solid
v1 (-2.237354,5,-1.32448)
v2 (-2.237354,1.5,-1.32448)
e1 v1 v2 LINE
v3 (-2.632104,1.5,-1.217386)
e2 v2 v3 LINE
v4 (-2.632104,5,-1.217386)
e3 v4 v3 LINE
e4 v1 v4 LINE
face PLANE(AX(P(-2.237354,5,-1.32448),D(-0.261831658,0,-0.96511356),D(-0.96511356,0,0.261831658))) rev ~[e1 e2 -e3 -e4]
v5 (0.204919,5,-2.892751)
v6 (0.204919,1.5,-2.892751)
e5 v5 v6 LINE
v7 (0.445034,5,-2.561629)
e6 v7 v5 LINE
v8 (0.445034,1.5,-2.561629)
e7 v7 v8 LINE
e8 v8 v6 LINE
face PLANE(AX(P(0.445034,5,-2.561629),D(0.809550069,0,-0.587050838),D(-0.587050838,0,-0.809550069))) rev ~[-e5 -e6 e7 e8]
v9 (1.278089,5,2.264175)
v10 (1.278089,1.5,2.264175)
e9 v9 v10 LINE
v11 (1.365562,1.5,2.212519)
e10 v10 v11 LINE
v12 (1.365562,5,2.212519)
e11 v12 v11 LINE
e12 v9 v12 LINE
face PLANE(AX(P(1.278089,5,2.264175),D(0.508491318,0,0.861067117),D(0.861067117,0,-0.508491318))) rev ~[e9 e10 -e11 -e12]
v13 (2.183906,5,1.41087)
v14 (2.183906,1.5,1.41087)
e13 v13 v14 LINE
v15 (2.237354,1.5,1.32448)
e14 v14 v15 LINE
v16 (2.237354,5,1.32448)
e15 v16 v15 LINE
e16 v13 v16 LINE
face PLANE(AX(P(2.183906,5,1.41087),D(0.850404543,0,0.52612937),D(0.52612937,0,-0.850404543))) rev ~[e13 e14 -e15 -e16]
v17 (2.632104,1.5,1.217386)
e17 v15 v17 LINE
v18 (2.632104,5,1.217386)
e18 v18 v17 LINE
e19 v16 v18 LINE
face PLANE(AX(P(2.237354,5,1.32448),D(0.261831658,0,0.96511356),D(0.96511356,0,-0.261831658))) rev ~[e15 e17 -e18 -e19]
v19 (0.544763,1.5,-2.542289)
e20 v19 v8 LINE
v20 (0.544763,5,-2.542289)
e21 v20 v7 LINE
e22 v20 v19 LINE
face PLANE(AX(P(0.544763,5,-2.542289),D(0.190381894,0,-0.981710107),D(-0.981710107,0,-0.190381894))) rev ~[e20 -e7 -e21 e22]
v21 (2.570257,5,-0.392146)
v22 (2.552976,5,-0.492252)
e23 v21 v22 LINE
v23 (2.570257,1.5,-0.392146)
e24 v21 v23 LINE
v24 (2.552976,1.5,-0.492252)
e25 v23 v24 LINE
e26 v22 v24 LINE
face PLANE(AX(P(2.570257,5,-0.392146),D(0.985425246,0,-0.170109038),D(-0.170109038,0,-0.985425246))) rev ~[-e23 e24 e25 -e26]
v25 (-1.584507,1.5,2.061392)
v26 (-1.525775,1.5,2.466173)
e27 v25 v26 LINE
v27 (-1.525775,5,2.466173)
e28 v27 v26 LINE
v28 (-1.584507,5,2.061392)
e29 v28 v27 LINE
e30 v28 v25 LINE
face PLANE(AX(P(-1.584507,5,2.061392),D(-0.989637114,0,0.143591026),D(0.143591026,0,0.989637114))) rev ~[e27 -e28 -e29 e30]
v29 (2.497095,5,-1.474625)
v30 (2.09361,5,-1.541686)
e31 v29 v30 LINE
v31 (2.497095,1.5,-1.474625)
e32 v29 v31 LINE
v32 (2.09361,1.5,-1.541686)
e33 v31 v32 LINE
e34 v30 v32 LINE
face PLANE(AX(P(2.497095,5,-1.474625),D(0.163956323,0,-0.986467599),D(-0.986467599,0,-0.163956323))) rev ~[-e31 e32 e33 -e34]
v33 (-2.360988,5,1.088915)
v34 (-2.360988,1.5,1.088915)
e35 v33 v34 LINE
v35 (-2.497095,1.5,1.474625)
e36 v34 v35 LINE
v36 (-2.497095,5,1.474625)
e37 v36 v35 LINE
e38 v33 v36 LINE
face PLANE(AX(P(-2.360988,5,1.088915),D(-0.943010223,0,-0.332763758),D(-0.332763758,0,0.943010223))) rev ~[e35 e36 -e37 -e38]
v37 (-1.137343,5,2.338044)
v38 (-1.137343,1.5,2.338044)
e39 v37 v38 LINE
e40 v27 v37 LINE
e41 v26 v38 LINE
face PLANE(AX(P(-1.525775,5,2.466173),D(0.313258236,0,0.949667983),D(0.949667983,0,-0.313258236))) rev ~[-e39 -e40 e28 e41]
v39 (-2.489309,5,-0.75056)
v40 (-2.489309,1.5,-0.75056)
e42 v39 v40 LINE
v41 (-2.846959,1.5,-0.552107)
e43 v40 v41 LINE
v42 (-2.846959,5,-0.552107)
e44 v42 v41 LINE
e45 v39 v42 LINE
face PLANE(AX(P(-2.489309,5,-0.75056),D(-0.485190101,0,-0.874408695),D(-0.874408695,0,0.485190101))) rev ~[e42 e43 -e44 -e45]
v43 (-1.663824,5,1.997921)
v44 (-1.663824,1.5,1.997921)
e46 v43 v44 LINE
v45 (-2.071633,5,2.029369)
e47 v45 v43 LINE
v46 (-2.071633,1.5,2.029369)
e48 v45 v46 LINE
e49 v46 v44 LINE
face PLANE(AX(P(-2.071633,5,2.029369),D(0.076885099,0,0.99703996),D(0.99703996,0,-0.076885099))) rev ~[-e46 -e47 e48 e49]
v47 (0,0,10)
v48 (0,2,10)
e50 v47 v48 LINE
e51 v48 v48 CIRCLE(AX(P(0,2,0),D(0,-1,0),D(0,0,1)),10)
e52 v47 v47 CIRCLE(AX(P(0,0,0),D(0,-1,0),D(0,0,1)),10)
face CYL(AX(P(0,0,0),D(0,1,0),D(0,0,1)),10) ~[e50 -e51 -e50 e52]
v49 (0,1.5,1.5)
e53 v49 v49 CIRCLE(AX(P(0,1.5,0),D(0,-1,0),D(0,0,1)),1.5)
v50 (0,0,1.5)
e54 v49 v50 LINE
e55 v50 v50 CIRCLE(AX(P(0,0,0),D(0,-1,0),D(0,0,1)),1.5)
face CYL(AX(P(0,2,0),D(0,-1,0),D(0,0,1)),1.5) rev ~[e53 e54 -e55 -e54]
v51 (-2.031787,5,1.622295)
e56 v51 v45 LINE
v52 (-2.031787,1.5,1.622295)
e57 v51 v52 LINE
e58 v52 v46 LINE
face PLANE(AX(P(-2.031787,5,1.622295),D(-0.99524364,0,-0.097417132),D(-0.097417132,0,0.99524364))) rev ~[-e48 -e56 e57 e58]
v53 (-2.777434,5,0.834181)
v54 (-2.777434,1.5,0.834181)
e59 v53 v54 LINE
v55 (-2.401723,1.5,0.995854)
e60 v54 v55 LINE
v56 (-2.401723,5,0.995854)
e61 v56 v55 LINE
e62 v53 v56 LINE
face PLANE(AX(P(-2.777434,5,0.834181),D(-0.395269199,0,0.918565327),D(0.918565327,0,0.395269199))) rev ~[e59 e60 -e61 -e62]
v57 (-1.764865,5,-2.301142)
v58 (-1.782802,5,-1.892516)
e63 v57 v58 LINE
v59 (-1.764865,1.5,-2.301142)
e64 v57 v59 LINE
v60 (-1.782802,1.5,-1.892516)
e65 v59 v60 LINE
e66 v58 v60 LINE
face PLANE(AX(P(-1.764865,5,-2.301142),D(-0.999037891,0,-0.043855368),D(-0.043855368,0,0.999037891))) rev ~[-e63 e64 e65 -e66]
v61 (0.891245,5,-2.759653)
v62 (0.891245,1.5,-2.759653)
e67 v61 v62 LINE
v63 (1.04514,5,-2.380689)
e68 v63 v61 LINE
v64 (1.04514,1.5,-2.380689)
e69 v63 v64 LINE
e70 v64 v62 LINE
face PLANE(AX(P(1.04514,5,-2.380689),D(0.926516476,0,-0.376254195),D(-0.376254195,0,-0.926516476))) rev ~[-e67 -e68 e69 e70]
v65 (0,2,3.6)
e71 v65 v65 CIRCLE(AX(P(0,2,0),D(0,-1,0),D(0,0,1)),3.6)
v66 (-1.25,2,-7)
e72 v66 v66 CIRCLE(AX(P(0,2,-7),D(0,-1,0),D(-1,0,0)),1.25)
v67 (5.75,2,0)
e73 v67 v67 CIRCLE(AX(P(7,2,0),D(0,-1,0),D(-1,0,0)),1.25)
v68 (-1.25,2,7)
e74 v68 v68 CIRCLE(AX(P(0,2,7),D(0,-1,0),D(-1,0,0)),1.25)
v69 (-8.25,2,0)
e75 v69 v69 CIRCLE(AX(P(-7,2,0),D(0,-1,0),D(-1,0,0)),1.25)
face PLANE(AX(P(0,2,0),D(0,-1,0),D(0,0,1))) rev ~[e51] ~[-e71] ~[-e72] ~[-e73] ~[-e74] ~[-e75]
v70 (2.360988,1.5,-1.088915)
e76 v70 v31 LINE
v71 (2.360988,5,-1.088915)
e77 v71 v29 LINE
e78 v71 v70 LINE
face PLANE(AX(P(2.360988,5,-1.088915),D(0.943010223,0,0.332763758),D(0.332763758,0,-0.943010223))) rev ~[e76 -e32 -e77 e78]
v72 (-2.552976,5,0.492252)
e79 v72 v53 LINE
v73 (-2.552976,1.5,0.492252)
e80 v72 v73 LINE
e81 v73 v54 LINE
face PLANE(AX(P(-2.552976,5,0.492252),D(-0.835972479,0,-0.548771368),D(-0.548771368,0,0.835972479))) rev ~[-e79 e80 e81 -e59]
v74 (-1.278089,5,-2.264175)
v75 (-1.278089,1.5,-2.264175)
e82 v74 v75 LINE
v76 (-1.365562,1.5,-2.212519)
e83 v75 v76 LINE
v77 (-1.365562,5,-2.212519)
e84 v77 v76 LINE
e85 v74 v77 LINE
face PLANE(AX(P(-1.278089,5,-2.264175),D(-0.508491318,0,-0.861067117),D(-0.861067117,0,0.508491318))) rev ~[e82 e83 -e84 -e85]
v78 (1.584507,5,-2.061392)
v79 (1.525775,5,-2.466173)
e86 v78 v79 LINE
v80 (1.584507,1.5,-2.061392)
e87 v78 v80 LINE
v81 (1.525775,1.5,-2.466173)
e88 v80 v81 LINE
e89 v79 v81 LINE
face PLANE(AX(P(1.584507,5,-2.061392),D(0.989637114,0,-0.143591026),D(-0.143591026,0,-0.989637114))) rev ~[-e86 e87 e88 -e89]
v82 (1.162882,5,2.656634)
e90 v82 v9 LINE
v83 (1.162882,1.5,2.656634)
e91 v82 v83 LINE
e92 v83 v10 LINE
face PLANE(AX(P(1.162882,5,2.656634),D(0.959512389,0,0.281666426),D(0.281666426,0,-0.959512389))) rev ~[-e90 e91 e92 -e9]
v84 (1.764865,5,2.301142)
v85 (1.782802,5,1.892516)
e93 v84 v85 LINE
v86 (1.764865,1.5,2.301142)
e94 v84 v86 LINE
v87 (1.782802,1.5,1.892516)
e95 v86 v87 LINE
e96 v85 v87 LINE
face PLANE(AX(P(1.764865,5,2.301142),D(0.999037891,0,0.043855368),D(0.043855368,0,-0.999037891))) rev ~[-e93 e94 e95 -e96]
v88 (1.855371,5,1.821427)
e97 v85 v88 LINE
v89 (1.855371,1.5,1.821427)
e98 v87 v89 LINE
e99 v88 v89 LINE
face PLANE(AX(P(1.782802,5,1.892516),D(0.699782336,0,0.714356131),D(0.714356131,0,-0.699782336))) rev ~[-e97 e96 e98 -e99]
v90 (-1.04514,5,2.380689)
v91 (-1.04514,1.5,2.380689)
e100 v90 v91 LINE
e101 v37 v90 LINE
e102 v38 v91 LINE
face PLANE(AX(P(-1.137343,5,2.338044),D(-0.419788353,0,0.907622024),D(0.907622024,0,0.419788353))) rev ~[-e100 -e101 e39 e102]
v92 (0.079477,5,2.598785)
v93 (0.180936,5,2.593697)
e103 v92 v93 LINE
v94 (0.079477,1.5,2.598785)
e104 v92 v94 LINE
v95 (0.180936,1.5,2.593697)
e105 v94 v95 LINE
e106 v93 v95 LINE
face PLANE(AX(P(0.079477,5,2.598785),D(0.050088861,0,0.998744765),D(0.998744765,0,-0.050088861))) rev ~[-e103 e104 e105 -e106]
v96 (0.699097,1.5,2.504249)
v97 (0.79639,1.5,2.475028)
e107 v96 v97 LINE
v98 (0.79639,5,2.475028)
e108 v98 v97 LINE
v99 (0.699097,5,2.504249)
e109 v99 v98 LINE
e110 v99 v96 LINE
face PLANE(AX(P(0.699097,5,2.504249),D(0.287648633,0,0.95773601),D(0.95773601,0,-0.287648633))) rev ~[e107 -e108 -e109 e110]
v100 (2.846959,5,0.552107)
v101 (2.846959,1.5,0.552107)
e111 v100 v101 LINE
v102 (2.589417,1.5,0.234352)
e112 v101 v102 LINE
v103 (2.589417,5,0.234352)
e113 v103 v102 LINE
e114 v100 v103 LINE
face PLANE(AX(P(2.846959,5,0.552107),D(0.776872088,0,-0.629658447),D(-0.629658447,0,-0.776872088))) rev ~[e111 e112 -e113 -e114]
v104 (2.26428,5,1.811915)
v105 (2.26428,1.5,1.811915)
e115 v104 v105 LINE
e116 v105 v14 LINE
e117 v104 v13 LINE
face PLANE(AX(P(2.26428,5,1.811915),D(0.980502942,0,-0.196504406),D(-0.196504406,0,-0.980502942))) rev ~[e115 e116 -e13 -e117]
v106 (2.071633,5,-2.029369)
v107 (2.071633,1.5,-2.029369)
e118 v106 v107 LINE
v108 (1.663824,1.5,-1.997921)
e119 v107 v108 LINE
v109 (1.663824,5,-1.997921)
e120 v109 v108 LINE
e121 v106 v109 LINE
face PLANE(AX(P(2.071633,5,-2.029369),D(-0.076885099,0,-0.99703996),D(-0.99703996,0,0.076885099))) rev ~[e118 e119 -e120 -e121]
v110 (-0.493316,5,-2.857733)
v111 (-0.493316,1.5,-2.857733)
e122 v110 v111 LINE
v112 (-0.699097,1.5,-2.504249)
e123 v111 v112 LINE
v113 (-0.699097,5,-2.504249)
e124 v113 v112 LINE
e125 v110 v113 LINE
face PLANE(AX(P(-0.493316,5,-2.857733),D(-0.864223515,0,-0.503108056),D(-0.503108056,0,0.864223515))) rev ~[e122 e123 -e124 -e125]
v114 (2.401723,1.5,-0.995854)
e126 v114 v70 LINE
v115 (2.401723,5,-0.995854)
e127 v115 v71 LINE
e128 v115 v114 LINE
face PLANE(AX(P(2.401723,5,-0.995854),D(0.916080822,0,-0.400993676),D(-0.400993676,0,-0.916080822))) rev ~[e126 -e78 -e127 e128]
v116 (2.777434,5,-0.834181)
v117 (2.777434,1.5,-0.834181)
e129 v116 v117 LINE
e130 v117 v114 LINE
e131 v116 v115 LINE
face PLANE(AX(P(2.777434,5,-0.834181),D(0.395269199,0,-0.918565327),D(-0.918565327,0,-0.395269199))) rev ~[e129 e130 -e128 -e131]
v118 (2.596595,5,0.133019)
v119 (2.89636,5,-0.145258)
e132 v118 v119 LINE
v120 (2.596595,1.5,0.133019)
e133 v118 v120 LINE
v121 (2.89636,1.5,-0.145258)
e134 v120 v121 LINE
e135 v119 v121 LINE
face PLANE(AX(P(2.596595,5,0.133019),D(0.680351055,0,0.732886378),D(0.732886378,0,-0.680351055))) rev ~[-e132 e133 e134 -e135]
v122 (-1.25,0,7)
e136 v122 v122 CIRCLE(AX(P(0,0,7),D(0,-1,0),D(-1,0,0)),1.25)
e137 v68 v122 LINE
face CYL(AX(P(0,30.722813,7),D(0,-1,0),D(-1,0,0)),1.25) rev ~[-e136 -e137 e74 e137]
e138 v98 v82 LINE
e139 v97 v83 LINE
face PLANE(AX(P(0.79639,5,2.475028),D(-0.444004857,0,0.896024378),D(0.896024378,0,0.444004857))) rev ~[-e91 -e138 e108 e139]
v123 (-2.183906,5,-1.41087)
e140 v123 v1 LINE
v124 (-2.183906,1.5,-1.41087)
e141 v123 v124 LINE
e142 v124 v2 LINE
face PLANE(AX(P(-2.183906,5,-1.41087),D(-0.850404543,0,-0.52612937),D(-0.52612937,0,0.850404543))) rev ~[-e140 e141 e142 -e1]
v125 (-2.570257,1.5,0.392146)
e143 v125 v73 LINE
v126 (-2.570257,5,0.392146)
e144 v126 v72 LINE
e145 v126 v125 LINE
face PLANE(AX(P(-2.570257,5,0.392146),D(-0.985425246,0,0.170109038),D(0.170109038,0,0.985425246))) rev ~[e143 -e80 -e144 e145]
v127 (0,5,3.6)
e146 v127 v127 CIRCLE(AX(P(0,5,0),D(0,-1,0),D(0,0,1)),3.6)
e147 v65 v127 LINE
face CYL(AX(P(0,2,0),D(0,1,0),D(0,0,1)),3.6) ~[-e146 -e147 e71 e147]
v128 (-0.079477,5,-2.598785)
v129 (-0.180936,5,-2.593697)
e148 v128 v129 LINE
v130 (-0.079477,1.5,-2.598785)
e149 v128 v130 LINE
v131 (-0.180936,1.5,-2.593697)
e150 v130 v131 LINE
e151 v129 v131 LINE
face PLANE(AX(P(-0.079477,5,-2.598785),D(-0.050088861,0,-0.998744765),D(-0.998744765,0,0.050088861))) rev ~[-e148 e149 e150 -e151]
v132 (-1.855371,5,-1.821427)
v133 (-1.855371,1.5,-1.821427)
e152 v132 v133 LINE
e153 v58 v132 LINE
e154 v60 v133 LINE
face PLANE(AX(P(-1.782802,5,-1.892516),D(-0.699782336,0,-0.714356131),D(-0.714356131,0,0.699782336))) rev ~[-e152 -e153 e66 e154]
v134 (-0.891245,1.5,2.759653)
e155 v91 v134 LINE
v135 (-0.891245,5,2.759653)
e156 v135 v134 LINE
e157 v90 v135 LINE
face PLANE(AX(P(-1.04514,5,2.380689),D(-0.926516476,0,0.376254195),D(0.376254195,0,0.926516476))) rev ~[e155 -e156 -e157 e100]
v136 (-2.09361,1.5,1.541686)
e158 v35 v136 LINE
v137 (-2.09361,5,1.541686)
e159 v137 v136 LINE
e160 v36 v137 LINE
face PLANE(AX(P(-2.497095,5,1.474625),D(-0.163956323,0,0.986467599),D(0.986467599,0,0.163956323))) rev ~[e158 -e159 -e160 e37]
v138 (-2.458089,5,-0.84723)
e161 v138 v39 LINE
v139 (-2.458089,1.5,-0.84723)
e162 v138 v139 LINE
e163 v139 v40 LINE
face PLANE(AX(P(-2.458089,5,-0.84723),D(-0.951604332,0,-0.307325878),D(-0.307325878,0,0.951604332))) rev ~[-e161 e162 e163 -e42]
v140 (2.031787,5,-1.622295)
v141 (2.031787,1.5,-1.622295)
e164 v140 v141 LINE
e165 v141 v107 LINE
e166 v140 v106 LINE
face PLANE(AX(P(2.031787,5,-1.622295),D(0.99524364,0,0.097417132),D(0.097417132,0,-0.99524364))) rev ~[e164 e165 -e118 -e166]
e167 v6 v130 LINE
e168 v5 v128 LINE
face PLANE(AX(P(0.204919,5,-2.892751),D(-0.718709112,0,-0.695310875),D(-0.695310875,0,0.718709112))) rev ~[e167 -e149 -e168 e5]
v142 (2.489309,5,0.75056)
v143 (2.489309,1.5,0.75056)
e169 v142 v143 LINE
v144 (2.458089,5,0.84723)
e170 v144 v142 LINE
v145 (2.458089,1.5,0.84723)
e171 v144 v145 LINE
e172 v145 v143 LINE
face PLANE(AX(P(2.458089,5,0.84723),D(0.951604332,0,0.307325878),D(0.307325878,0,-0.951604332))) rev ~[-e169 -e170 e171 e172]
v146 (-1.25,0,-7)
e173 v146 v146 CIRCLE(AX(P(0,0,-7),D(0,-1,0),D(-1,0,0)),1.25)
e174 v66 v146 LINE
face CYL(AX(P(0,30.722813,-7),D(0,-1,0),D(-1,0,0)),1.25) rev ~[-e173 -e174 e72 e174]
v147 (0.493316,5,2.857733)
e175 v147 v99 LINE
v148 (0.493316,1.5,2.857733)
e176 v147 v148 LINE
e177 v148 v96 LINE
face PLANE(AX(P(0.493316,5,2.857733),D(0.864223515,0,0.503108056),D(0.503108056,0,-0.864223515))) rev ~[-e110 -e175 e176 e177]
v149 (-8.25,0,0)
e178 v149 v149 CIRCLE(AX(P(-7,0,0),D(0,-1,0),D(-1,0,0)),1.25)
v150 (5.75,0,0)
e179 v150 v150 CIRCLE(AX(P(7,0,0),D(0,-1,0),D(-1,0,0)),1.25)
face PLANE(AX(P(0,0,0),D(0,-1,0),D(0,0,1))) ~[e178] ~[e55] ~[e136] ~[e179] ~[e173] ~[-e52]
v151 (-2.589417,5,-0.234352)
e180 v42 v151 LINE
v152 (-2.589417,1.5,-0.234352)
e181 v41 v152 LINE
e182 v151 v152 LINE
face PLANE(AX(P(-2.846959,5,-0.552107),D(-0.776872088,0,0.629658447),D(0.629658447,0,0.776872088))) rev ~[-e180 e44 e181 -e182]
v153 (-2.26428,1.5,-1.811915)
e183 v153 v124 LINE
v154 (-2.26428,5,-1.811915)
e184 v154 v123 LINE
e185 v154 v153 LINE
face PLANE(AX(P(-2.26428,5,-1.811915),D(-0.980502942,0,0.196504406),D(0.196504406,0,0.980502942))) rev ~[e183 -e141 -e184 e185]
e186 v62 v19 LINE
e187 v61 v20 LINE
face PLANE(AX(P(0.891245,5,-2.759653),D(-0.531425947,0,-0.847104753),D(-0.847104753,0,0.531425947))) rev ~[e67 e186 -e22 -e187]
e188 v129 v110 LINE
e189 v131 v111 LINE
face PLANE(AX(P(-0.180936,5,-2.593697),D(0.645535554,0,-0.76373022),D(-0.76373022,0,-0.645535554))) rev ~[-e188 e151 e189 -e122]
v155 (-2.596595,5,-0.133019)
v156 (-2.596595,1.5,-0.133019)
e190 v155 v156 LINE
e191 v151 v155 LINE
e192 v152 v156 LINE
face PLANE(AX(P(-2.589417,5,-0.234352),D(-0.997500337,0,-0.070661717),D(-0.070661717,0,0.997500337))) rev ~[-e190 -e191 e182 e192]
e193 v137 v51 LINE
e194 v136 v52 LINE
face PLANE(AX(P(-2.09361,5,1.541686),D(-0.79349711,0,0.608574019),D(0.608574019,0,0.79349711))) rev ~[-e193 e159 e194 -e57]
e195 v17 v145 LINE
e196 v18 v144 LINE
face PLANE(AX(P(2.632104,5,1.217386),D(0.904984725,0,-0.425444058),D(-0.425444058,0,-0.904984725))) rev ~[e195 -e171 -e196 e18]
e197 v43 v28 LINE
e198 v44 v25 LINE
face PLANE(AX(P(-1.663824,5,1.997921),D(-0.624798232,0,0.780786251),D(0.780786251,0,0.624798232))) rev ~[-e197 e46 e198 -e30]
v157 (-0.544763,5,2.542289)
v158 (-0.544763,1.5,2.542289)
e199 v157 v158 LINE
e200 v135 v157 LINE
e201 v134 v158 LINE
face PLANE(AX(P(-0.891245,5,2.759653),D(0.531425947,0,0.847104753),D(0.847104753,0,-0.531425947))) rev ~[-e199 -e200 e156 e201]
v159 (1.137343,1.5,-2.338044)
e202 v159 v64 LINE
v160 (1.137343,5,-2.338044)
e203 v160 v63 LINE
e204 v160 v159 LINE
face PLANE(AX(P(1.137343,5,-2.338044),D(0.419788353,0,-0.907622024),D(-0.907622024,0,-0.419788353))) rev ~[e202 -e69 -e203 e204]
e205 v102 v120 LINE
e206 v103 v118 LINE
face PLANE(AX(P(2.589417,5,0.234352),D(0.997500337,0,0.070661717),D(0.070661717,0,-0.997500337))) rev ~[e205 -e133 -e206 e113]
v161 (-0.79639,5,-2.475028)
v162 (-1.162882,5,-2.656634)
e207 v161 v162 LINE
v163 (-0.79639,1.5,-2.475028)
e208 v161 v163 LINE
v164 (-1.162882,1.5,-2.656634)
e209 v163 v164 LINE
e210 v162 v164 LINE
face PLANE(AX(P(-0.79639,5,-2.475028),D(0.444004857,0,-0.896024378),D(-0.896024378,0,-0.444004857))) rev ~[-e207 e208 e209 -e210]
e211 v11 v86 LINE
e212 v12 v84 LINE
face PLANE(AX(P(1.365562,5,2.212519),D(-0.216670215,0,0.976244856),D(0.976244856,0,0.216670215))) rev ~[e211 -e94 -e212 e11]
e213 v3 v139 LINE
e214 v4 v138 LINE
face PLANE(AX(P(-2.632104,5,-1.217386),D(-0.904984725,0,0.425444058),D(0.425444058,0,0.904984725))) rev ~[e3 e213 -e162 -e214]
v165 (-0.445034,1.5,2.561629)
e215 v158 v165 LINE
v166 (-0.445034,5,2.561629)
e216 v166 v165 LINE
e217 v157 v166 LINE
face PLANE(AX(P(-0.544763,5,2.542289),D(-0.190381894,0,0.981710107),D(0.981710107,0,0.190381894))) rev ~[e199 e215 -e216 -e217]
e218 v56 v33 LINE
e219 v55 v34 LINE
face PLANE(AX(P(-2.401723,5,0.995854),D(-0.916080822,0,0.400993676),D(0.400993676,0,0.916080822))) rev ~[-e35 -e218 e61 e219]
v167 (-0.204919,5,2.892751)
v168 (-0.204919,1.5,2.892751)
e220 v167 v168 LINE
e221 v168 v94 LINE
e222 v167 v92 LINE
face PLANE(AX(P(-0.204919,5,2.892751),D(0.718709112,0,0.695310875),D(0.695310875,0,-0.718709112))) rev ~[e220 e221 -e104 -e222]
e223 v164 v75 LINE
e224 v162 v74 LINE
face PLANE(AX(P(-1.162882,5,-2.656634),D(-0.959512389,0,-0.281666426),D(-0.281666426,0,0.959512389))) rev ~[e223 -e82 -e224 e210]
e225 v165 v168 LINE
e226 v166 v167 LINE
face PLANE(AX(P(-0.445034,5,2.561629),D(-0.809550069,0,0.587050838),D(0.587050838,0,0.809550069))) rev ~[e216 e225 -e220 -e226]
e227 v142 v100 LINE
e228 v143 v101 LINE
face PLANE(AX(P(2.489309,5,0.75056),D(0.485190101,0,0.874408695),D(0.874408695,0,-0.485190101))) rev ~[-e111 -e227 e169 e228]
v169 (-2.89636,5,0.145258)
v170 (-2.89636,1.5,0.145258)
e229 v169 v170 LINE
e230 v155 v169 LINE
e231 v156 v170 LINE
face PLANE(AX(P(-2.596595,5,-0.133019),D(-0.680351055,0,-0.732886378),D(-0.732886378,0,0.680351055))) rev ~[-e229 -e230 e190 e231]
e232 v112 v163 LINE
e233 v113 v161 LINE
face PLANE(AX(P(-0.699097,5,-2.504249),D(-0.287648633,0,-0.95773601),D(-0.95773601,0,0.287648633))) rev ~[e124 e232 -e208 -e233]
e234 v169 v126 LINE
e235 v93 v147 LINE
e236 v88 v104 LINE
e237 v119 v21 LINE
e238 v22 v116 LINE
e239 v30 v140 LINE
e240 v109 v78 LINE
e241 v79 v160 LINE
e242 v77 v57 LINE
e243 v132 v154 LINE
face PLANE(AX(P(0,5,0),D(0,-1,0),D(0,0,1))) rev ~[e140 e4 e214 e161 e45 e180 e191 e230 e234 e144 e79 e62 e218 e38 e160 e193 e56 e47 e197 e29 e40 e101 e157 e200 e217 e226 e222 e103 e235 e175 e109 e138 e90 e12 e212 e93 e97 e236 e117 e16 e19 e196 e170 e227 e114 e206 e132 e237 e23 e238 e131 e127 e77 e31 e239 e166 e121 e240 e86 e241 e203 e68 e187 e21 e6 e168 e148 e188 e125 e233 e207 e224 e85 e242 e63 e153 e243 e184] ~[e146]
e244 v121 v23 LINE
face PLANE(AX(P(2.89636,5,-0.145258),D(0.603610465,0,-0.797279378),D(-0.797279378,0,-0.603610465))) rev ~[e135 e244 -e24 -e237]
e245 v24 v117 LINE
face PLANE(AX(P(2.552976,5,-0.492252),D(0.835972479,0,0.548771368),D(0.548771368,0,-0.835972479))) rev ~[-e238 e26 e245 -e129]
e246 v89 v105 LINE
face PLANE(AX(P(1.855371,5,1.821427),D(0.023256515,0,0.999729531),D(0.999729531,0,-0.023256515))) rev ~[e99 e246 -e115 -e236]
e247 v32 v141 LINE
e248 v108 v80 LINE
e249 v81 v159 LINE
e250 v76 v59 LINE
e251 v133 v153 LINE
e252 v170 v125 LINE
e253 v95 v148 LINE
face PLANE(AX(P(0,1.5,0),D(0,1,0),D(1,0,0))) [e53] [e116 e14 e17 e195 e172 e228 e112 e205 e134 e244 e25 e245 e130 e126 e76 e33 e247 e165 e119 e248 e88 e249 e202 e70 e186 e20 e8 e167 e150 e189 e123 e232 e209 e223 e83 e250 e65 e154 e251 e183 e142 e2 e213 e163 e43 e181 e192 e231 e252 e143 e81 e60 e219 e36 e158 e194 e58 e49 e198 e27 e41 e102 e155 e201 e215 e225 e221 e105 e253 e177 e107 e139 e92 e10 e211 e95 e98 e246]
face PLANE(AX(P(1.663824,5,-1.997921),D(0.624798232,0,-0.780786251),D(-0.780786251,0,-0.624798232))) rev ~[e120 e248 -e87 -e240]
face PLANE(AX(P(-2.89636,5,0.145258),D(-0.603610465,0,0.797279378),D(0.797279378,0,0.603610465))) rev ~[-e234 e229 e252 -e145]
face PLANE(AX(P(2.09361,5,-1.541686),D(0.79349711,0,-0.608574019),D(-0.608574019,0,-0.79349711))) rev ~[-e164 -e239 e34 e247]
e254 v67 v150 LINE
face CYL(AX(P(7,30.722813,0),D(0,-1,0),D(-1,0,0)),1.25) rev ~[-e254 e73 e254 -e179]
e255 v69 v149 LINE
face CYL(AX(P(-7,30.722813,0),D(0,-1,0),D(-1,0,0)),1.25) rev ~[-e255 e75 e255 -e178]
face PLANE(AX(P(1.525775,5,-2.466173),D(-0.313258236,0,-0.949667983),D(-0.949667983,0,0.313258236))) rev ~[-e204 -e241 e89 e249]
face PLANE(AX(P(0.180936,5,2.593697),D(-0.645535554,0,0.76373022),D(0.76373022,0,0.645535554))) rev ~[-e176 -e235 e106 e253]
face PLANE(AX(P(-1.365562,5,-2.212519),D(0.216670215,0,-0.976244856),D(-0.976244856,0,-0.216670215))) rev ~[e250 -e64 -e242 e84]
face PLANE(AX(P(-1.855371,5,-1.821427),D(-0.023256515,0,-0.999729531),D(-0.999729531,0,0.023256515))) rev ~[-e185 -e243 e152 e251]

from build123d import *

# Parameters (mm, degrees)
M3_TAPPED_HOLE1_D  = 2.5
CUT_EXTRUDE1_DEPTH = 3.5


with BuildPart() as part:
    # Sketch1 → Revolve1 (revolve)
    with BuildSketch(Plane.XY, mode=Mode.PRIVATE) as revolve1_sk:
        Polygon((2.345142076, 2), (1.5, 2), (1.5, 0), (10, 0), (10, 2), (3.6, 2), (3.6, 5), (2.345142076, 5), align=None)
    revolve(revolve1_sk.sketch.rotate(Axis((0, 6.795271061, 0), (0, -1, 0)), 90), axis=Axis((0, 6.795271061, 0), (0, -1, 0)))

    # M3 Tapped Hole1 (through all)
    with Locations(Plane(origin=(0, 2, 0), x_dir=(1, 0, 0), z_dir=(0, 1, 0))):
        with Locations((-7, 0), (0, 7), (7, 0), (0, -7)):
            Hole(M3_TAPPED_HOLE1_D / 2)

    # Sketch5 → Cut-Extrude1 (cut)
    with BuildSketch(Plane(origin=(0, 5, 0), x_dir=(1, 0, 0), z_dir=(0, 1, 0))):
        Polygon((-1.365561553, 2.212519298), (-1.76486465, 2.301141622), (-1.782802347, 1.892515731), (-1.855371341, 1.821427239), (-2.264280127, 1.811914873), (-2.18390601, 1.410870135), (-2.237353692, 1.324480448), (-2.632103873, 1.217386217), (-2.458088994, 0.847229896), (-2.489309178, 0.750559669), (-2.846959309, 0.552107499), (-2.589416781, 0.234351734), (-2.596595063, 0.133019089), (-2.896359819, -0.1452577), (-2.570257076, -0.392146098), (-2.552976281, -0.492252076), (-2.777434424, -0.834181049), (-2.401723373, -0.995853825), (-2.360987798, -1.08891534), (-2.497094635, -1.474624828), (-2.093610237, -1.541686147), (-2.031787285, -1.622294803), (-2.071632783, -2.029368772), (-1.663824084, -1.997921274), (-1.584506681, -2.061392388), (-1.525775164, -2.466173179), (-1.137342523, -2.338044479), (-1.045140308, -2.380689341), (-0.891245038, -2.759652566), (-0.544762749, -2.542289037), (-0.445034179, -2.561629282), (-0.20491899, -2.892750976), (0.079476656, -2.598784997), (0.180935719, -2.593696641), (0.493316205, -2.857733214), (0.699097167, -2.504249019), (0.79639029, -2.475027779), (1.162881655, -2.656634385), (1.278088691, -2.264175191), (1.365561553, -2.212519298), (1.76486465, -2.301141622), (1.782802347, -1.892515731), (1.855371341, -1.821427239), (2.264280127, -1.811914873), (2.18390601, -1.410870135), (2.237353692, -1.324480448), (2.632103873, -1.217386217), (2.458088994, -0.847229896), (2.489309178, -0.750559669), (2.846959309, -0.552107499), (2.589416781, -0.234351734), (2.596595063, -0.133019089), (2.896359819, 0.1452577), (2.570257076, 0.392146098), (2.552976281, 0.492252076), (2.777434424, 0.834181049), (2.401723373, 0.995853825), (2.360987798, 1.08891534), (2.497094635, 1.474624828), (2.093610237, 1.541686147), (2.031787285, 1.622294803), (2.071632783, 2.029368772), (1.663824084, 1.997921274), (1.584506681, 2.061392388), (1.525775164, 2.466173179), (1.137342523, 2.338044479), (1.045140308, 2.380689341), (0.891245038, 2.759652566), (0.544762749, 2.542289037), (0.445034179, 2.561629282), (0.20491899, 2.892750976), (-0.079476656, 2.598784997), (-0.180935719, 2.593696641), (-0.493316205, 2.857733214), (-0.699097167, 2.504249019), (-0.79639029, 2.475027779), (-1.162881655, 2.656634385), (-1.278088691, 2.264175191), align=None)
    extrude(amount=-CUT_EXTRUDE1_DEPTH, mode=Mode.SUBTRACT)


solid = part.part
